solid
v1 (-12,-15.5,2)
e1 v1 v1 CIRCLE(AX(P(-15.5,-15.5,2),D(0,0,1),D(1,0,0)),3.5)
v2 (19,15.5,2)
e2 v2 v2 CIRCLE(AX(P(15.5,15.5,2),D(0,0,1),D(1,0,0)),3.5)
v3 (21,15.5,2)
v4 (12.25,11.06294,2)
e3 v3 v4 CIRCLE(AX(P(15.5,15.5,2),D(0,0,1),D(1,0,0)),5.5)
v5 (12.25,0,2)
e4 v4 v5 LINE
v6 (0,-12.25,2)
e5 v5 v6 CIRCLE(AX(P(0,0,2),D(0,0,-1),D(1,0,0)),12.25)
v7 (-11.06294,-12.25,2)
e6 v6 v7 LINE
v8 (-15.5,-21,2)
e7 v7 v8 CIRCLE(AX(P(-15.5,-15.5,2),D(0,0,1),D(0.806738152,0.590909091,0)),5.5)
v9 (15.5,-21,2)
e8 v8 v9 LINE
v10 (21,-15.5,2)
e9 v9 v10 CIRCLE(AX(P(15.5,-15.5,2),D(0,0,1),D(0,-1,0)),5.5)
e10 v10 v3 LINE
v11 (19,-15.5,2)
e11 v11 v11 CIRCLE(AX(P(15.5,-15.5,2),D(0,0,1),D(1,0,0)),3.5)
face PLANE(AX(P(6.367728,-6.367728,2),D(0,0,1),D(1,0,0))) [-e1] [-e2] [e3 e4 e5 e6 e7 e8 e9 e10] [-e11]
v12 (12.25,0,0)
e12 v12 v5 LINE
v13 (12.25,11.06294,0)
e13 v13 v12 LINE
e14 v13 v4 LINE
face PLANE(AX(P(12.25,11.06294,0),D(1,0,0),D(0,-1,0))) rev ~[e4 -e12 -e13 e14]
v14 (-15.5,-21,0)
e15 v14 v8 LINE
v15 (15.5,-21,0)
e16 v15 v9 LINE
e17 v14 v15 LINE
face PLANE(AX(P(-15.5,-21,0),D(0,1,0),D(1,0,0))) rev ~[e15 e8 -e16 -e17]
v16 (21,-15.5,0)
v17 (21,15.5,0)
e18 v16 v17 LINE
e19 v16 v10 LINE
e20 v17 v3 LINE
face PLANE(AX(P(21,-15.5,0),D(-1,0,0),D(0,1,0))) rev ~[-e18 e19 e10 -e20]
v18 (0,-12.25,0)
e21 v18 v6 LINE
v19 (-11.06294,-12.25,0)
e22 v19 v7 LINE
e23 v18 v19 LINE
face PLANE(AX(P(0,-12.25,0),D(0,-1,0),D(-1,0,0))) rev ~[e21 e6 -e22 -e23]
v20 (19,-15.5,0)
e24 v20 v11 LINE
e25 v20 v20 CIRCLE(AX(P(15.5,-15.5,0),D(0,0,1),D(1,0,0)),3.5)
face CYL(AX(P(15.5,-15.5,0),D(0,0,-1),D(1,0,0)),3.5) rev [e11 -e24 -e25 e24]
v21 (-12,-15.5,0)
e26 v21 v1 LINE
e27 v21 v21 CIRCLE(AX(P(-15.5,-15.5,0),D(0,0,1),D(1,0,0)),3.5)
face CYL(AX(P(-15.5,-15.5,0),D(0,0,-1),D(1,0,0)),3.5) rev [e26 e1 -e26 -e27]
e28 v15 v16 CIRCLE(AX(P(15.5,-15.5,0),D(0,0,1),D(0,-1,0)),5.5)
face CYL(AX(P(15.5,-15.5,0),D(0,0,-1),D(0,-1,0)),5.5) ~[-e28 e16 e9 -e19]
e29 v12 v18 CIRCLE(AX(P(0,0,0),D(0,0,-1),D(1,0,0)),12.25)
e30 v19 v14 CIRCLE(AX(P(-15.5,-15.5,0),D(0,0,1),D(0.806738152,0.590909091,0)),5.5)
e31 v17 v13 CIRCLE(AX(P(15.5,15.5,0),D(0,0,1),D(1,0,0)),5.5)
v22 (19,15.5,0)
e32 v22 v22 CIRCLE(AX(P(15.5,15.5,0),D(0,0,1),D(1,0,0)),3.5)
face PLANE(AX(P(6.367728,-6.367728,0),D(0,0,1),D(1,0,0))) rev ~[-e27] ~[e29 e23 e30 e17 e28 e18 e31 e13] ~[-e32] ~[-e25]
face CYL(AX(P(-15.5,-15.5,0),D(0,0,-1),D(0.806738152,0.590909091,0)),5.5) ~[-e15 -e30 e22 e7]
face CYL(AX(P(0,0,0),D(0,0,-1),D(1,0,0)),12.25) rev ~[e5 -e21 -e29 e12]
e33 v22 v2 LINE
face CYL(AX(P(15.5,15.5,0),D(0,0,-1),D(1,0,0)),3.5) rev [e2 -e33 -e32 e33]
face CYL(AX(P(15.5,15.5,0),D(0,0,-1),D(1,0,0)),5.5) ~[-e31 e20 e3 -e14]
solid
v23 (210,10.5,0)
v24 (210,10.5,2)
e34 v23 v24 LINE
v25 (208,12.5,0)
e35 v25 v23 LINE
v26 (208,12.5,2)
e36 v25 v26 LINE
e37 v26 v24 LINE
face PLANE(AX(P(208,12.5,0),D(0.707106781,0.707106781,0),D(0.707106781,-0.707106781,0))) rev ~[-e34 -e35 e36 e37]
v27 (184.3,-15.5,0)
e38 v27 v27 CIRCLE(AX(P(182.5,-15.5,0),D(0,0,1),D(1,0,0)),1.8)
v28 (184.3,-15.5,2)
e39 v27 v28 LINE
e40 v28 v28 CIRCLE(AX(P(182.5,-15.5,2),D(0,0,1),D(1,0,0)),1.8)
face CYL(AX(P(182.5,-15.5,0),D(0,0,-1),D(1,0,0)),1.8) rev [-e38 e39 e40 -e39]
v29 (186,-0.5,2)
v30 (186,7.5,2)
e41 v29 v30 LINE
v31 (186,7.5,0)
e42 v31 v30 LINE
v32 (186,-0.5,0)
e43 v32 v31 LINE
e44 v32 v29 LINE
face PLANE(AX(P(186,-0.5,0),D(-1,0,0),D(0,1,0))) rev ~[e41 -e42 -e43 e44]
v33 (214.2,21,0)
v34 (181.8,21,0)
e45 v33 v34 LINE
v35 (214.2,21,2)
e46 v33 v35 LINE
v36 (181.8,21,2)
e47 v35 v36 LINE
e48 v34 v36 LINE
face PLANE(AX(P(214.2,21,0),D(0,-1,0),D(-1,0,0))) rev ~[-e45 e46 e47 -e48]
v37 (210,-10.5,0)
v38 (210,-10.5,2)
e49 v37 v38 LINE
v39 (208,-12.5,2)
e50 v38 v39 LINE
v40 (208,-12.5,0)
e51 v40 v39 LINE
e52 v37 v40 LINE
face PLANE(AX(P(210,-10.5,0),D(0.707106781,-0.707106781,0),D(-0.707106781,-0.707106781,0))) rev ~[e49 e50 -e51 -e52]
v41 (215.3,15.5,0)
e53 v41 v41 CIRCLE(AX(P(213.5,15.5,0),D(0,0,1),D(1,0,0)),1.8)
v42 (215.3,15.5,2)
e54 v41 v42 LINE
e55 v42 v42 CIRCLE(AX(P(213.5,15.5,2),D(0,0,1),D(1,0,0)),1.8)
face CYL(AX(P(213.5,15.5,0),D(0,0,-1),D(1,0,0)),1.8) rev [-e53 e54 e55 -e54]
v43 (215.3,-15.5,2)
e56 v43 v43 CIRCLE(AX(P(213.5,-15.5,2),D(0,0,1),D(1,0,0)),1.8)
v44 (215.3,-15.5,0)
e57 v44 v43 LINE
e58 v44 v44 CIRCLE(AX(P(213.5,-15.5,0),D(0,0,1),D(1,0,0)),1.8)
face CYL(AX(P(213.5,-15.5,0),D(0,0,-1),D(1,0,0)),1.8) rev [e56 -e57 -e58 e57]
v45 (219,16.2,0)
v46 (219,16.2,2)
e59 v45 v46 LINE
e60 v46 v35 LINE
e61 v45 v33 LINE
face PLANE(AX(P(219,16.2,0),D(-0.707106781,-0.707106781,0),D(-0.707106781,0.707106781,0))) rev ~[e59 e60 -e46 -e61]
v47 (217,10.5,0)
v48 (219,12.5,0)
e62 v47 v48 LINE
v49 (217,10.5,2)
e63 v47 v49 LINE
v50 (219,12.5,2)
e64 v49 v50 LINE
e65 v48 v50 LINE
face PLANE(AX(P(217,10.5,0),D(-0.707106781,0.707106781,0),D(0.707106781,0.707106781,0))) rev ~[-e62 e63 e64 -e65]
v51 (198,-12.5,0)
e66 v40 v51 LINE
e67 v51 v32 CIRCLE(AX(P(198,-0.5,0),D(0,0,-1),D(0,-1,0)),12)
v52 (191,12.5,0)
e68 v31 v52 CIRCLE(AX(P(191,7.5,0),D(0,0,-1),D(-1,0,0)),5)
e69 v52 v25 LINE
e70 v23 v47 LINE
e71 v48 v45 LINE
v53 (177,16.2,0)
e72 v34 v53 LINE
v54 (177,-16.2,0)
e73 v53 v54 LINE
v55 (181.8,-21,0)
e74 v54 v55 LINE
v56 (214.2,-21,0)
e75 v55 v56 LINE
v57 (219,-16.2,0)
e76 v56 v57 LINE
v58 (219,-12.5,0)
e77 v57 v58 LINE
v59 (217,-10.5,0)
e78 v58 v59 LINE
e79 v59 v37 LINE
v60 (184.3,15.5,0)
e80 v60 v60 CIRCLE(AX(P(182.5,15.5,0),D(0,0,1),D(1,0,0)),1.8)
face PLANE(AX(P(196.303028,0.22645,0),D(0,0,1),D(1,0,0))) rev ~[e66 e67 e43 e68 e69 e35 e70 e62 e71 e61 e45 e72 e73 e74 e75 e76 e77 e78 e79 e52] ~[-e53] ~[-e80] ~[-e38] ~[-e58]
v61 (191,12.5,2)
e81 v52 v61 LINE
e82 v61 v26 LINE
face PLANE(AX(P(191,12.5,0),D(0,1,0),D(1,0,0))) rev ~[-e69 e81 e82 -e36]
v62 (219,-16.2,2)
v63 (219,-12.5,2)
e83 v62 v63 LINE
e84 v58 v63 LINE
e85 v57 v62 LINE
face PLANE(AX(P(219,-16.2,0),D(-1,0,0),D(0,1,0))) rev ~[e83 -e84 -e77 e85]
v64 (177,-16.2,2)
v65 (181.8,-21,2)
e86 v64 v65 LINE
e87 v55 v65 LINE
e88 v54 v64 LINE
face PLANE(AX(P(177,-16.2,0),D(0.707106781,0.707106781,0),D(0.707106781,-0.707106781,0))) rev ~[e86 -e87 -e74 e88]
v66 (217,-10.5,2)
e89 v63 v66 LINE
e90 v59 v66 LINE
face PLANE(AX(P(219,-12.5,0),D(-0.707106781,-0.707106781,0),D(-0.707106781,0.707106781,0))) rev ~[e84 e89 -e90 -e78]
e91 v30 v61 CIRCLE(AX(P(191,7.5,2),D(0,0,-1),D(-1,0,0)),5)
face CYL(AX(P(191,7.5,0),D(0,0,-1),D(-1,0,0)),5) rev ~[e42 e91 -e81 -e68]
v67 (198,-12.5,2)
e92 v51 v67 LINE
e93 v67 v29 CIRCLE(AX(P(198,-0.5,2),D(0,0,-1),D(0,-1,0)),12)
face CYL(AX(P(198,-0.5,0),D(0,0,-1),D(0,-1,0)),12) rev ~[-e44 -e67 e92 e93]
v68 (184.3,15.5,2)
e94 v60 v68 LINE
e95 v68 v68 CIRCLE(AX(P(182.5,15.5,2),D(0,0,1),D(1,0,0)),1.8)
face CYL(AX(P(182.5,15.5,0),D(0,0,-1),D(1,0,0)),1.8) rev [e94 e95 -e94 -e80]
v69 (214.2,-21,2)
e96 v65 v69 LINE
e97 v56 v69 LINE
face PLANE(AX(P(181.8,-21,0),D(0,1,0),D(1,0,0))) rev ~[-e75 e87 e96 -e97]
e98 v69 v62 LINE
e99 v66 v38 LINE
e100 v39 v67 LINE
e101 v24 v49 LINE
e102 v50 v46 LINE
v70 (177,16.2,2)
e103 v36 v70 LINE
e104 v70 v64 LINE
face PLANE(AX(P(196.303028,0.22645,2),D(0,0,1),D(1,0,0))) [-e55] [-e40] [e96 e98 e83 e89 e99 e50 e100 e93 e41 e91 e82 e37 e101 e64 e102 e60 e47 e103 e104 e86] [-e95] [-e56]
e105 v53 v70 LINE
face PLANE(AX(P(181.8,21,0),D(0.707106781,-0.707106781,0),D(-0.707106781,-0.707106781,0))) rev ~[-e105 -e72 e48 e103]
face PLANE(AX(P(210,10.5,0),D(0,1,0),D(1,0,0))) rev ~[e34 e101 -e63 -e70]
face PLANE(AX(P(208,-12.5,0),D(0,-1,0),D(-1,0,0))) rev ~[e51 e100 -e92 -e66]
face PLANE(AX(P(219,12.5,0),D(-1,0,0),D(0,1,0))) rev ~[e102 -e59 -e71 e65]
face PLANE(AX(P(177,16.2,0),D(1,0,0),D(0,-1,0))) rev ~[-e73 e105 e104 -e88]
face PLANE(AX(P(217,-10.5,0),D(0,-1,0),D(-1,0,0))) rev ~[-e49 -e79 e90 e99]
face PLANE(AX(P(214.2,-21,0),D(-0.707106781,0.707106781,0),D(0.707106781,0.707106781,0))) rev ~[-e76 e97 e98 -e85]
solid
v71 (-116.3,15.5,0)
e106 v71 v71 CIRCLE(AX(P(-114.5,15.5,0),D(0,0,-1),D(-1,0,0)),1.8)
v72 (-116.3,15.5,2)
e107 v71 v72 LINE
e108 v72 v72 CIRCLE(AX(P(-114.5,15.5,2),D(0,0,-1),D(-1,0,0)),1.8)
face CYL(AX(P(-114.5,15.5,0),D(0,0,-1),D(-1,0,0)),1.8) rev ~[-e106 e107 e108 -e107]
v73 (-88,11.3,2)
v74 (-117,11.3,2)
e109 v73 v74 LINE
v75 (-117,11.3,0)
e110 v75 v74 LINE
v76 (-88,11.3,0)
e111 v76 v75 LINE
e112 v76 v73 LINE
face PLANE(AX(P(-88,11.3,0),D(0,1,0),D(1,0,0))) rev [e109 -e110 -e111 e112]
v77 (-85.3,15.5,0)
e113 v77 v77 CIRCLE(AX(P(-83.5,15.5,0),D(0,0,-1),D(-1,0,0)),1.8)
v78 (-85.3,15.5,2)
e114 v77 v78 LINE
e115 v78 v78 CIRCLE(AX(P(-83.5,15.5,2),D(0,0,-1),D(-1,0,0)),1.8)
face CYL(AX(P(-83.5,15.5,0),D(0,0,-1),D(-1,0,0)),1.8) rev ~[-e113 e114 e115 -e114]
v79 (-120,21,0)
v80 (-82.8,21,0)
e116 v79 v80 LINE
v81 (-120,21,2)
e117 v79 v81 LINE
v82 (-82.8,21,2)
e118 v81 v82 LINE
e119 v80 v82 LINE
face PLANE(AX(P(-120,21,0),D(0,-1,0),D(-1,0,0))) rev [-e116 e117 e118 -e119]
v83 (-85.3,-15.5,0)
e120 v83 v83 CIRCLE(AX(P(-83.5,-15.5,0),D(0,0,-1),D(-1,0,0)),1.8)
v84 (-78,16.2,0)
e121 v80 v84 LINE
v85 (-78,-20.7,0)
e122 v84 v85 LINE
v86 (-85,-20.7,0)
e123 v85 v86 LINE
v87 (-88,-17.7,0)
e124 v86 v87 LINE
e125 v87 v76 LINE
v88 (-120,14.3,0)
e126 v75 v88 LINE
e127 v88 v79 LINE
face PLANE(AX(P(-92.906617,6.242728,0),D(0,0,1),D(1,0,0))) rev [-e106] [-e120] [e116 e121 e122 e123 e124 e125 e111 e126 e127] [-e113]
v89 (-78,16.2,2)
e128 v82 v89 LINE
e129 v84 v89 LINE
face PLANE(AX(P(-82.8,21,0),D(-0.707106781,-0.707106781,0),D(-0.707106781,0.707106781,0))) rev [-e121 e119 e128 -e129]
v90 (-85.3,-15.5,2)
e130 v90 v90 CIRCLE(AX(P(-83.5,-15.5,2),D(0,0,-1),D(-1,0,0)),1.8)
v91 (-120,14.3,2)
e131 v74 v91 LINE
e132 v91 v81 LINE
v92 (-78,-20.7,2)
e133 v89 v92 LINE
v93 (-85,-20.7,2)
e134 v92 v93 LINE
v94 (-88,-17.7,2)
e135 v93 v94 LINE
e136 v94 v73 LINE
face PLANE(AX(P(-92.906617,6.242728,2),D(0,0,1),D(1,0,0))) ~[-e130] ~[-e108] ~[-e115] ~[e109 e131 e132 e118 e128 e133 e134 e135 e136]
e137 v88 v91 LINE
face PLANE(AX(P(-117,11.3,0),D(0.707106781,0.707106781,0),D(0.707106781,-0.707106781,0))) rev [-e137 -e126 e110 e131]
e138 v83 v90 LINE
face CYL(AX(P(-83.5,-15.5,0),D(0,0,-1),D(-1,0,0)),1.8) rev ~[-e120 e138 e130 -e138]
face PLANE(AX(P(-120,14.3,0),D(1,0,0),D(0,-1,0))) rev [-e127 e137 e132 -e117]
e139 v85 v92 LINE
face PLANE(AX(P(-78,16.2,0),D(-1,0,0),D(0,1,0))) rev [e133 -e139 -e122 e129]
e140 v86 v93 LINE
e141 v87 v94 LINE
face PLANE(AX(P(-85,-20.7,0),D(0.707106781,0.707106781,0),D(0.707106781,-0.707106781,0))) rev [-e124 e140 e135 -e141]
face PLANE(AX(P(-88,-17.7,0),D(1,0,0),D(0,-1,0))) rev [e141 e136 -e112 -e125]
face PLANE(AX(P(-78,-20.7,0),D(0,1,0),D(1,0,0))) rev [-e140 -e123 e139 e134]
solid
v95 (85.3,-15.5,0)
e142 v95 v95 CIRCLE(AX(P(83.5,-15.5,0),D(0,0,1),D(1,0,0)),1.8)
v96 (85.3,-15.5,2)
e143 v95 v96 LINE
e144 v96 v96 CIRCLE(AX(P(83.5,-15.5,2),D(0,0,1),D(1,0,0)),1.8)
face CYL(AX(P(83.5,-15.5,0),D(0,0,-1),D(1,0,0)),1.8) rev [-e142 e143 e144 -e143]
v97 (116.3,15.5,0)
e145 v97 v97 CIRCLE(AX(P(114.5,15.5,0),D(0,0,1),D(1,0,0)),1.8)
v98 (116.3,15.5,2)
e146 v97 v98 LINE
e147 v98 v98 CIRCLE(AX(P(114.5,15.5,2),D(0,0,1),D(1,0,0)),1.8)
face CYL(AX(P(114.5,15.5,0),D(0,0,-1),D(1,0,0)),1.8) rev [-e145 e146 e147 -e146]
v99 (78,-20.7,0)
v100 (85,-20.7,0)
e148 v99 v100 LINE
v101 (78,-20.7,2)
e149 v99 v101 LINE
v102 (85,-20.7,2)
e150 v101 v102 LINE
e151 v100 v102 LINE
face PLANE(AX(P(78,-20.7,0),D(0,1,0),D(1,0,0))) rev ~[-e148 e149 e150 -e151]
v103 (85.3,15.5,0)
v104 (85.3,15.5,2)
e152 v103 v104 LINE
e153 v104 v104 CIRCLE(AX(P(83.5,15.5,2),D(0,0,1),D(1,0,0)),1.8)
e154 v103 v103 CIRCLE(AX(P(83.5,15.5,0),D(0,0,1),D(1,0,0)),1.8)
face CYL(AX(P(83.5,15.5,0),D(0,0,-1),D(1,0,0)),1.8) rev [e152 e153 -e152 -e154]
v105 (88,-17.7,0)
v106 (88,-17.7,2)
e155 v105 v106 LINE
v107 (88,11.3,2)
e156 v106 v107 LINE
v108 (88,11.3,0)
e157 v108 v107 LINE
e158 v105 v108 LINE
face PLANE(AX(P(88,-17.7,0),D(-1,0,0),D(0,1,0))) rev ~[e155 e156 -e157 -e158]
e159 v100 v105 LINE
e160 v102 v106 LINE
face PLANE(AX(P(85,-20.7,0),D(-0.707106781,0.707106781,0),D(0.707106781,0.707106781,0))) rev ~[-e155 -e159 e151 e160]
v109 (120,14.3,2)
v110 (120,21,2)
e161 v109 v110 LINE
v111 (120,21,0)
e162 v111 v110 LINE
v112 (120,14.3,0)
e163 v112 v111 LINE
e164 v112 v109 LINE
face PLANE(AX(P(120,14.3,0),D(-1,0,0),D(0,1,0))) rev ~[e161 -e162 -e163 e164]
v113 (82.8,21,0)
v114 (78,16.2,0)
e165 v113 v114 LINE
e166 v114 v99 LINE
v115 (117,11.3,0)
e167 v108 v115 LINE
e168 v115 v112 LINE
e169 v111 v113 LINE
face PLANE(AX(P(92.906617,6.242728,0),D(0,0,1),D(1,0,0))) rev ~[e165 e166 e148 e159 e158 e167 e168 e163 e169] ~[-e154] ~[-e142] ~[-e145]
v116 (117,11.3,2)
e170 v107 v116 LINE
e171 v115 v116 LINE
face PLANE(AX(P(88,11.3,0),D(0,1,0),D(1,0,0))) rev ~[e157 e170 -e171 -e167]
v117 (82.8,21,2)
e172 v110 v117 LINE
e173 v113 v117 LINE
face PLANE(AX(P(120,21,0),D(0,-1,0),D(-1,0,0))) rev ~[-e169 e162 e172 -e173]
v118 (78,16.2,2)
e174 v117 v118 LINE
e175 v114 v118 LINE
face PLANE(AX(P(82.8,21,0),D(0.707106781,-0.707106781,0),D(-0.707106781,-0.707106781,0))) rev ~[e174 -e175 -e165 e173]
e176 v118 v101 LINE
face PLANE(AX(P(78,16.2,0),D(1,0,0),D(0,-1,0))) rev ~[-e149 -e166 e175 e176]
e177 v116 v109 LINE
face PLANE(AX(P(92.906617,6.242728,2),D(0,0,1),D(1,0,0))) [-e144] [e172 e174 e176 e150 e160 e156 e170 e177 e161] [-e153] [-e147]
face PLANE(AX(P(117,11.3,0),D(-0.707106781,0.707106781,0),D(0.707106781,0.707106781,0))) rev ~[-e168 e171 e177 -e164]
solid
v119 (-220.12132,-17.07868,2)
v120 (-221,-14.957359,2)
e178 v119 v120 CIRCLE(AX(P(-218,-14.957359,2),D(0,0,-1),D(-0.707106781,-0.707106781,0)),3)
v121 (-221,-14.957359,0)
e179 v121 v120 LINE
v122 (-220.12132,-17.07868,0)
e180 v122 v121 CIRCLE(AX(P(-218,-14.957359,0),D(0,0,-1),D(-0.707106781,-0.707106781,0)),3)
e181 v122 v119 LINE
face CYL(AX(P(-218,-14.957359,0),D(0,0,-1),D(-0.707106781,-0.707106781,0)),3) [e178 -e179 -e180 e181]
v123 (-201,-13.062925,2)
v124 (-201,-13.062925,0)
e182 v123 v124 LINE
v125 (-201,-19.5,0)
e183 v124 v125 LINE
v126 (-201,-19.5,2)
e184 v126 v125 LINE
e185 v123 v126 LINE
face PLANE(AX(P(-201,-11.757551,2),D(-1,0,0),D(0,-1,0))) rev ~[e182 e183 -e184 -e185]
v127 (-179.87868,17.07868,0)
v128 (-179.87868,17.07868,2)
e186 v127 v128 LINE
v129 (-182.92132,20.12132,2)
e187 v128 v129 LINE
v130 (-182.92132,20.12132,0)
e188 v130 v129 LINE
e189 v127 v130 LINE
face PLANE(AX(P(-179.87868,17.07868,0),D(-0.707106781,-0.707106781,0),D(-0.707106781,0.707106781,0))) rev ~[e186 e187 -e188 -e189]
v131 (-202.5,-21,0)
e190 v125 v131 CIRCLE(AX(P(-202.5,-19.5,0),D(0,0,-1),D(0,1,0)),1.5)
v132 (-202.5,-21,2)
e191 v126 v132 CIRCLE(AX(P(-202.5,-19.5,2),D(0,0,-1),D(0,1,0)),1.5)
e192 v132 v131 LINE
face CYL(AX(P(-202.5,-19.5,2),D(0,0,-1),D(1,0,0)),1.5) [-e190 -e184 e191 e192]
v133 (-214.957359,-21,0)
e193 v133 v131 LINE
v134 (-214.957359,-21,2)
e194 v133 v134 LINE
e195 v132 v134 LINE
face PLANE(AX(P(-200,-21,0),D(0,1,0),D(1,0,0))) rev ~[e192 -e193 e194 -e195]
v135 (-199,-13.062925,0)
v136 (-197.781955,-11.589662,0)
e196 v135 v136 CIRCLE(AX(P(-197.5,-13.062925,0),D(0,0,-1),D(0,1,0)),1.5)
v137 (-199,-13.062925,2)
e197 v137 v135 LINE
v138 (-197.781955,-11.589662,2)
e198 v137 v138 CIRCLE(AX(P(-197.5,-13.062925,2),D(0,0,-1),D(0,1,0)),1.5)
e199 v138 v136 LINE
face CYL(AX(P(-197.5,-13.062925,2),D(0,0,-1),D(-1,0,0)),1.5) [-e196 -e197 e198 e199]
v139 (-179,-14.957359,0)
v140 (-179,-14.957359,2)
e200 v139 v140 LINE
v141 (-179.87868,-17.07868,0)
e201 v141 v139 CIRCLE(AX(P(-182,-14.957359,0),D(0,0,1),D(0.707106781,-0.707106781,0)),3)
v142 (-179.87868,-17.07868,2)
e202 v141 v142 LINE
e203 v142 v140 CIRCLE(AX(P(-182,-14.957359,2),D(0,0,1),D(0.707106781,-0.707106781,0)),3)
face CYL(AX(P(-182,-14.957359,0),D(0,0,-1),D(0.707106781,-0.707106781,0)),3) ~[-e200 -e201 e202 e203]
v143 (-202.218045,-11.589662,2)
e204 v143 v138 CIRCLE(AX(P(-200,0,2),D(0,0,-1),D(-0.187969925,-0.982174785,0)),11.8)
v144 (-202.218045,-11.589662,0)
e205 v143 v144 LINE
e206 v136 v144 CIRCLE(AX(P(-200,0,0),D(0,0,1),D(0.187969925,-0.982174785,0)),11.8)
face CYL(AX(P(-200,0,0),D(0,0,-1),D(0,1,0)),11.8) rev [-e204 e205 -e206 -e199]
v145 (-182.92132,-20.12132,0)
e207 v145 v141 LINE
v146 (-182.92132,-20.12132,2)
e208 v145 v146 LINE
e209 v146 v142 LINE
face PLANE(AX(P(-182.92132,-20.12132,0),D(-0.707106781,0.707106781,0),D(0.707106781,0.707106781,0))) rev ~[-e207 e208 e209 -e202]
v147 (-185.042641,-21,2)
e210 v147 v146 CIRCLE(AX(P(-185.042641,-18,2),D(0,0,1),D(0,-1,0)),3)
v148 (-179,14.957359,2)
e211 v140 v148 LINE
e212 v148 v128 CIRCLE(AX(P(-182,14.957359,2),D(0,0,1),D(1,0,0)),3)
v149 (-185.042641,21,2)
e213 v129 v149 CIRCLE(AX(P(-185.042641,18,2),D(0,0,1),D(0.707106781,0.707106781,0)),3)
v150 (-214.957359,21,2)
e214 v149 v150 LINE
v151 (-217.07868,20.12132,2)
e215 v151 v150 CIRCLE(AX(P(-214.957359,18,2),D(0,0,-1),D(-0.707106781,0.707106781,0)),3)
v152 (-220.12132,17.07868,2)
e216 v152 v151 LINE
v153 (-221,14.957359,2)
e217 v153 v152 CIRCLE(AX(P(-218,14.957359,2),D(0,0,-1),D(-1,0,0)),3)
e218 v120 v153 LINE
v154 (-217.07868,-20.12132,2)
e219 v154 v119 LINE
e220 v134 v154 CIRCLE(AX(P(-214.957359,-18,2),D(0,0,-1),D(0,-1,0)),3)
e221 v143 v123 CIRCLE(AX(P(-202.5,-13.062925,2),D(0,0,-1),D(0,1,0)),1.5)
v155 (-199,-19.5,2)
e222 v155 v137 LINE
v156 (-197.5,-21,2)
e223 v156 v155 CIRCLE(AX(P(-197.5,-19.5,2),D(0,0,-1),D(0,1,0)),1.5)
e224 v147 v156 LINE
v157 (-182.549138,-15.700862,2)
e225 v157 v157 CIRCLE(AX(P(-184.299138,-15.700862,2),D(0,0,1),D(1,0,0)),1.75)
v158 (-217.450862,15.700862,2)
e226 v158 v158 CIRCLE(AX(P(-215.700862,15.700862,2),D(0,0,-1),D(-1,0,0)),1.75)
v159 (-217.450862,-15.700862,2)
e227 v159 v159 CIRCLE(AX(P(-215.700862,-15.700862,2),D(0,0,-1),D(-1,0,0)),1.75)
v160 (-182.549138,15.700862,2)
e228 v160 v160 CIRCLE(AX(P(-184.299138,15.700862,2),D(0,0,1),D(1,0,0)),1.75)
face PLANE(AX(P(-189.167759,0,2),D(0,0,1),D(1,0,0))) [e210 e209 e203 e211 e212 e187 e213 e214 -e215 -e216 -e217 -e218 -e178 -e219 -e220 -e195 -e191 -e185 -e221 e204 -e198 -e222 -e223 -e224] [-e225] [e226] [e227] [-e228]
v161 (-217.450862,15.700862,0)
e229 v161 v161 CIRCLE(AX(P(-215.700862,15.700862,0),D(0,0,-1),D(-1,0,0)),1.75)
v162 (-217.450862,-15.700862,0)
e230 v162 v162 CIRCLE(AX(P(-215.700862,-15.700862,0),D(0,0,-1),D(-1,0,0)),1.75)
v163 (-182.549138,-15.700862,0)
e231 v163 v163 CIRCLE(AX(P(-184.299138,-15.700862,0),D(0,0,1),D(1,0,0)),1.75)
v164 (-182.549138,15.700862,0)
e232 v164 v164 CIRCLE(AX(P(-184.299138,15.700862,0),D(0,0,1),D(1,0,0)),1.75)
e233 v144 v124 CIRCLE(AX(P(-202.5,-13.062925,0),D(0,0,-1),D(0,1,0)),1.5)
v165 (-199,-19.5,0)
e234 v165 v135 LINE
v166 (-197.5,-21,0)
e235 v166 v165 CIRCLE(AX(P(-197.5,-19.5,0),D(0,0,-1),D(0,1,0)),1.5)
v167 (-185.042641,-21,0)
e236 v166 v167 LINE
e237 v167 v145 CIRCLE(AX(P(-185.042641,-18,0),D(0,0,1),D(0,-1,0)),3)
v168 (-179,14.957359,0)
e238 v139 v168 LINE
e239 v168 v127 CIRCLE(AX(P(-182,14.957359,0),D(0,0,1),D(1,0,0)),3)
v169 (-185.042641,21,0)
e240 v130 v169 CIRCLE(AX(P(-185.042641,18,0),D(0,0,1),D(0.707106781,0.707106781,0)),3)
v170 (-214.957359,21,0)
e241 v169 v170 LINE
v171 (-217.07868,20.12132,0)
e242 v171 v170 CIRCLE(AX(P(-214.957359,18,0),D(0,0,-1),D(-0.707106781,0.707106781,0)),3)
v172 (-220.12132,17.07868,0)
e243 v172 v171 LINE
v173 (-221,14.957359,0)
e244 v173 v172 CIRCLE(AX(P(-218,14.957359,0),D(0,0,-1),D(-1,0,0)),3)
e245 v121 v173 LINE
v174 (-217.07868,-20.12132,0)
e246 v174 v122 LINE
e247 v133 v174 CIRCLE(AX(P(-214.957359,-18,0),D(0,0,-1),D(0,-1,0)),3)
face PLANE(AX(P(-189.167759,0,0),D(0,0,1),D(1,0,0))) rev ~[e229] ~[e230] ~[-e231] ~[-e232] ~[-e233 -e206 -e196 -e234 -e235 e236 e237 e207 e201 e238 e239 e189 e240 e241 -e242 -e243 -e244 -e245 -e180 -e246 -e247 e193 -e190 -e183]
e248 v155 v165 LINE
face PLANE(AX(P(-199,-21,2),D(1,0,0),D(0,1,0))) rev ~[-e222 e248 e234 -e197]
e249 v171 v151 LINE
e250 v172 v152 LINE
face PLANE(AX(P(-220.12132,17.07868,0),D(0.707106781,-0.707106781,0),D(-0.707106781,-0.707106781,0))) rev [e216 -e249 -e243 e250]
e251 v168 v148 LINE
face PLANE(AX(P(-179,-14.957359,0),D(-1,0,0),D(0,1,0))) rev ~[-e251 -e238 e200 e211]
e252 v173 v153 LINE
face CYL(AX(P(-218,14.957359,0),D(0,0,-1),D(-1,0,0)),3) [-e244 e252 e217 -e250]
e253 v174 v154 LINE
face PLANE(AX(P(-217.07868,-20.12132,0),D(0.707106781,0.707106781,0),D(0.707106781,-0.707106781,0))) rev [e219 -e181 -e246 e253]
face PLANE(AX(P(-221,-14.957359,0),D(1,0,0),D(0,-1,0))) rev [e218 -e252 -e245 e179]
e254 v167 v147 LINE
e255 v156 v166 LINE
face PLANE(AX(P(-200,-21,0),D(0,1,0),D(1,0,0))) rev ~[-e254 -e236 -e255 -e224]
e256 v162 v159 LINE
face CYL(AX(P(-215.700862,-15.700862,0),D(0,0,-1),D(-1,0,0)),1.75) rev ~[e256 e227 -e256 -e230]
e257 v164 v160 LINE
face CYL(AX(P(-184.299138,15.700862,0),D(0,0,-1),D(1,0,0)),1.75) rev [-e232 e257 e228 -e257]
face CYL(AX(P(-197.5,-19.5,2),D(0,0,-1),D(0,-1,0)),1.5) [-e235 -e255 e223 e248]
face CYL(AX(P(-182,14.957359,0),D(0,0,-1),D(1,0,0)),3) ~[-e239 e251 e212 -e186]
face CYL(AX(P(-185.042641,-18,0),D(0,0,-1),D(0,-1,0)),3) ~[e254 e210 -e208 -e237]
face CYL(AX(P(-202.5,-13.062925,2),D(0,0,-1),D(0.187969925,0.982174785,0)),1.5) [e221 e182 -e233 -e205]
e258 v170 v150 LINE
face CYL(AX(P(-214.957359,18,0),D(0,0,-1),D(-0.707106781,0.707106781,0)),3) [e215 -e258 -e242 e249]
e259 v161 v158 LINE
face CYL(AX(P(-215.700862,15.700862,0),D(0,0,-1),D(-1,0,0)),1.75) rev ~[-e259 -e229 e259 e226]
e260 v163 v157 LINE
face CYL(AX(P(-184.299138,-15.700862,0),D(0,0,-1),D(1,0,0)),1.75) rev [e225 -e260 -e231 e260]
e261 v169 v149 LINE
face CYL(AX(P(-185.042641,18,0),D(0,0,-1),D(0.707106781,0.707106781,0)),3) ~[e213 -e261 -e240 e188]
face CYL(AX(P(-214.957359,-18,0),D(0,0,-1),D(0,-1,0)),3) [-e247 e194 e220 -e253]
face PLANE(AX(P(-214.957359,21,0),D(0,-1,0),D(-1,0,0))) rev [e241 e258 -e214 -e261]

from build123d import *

# Parameters (mm, degrees)
F0_R     = 3.5
F1_DEPTH = 2
F0_R_2   = 1.8
F3_R     = 1.75
F4_DEPTH = 2
F9_DEPTH = 25
F10_R    = 1.5


with BuildPart() as f1:
    # F0 (on Top) → F1 (new body)
    with BuildSketch(Plane.XY):
        with BuildLine():
            Line((0, -12.25), (-11.0629401627, -12.25))
            ThreePointArc((-11.0629401627, -12.25), (-20.4053542176, -13.0125314072), (-15.5, -21))
            Line((-15.5, -21), (15.5, -21))
            ThreePointArc((15.5, -21), (19.3890872965, -19.3890872965), (21, -15.5))
            Line((21, -15.5), (21, 15.5))
            ThreePointArc((21, 15.5), (13.0125314072, 20.4053542176), (12.25, 11.0629401627))
            Line((12.25, 11.0629401627), (12.25, 0))
            ThreePointArc((12.25, 0), (8.6620580695, -8.6620580695), (0, -12.25))
        make_face()
        with Locations((-15.5, -15.5)):
            Circle(F0_R, mode=Mode.SUBTRACT)
        with Locations((15.5, -15.5)):
            Circle(F0_R, mode=Mode.SUBTRACT)
        with Locations((15.5, 15.5)):
            Circle(F0_R, mode=Mode.SUBTRACT)
    extrude(amount=F1_DEPTH)


with BuildPart() as f1b:
    # F0 (on Top) → F1, piece 2 (new body)
    with BuildSketch(Plane.XY):
        Polygon((88, 11.3), (117, 11.3), (120, 14.3), (120, 21), (82.8, 21), (78, 16.2), (78, -20.7), (85, -20.7), (88, -17.7), align=None)
        with Locations((83.5, -15.5)):
            Circle(F0_R_2, mode=Mode.SUBTRACT)
        with Locations((83.5, 15.5)):
            Circle(F0_R_2, mode=Mode.SUBTRACT)
        with Locations((114.5, 15.5)):
            Circle(F0_R_2, mode=Mode.SUBTRACT)
    extrude(amount=F1_DEPTH)


with BuildPart() as f1c:
    # F0 (on Top) → F1, piece 3 (new body)
    with BuildSketch(Plane.XY):
        with BuildLine():
            Line((186, -0.5), (186, 7.5))
            ThreePointArc((186, 7.5), (187.4644660941, 11.0355339059), (191, 12.5))
            Line((191, 12.5), (208, 12.5))
            Line((208, 12.5), (210, 10.5))
            Line((210, 10.5), (217, 10.5))
            Line((217, 10.5), (219, 12.5))
            Line((219, 12.5), (219, 16.2))
            Line((219, 16.2), (214.2, 21))
            Line((214.2, 21), (181.8, 21))
            Line((181.8, 21), (177, 16.2))
            Line((177, 16.2), (177, -16.2))
            Line((177, -16.2), (181.8, -21))
            Line((181.8, -21), (214.2, -21))
            Line((214.2, -21), (219, -16.2))
            Line((219, -16.2), (219, -12.5))
            Line((219, -12.5), (217, -10.5))
            Line((217, -10.5), (210, -10.5))
            Line((210, -10.5), (208, -12.5))
            Line((208, -12.5), (198, -12.5))
            ThreePointArc((198, -12.5), (189.5147186258, -8.9852813742), (186, -0.5))
        make_face()
        with Locations((182.5, -15.5)):
            Circle(F0_R_2, mode=Mode.SUBTRACT)
        with Locations((213.5, -15.5)):
            Circle(F0_R_2, mode=Mode.SUBTRACT)
        with Locations((182.5, 15.5)):
            Circle(F0_R_2, mode=Mode.SUBTRACT)
        with Locations((213.5, 15.5)):
            Circle(F0_R_2, mode=Mode.SUBTRACT)
    extrude(amount=F1_DEPTH)


with BuildPart() as f2_1:
    # F2: instance of F1b
    add(f1b.part.mirror(Plane.YZ))


with BuildPart() as f4:
    # F3 (on Top) → F4 (new body)
    with BuildSketch(Plane.XY):
        with BuildLine():
            Line((0, -21), (14.9573593129, -21))
            ThreePointArc((14.9573593129, -21), (16.10540961, -20.7716385975), (17.0786796564, -20.1213203436))
            Line((17.0786796564, -20.1213203436), (20.1213203436, -17.0786796564))
            ThreePointArc((20.1213203436, -17.0786796564), (20.7716385975, -16.10540961), (21, -14.9573593129))
            Line((21, -14.9573593129), (21, 14.9573593129))
            ThreePointArc((21, 14.9573593129), (20.7716385975, 16.10540961), (20.1213203436, 17.0786796564))
            Line((20.1213203436, 17.0786796564), (17.0786796564, 20.1213203436))
            ThreePointArc((17.0786796564, 20.1213203436), (16.10540961, 20.7716385975), (14.9573593129, 21))
            Line((14.9573593129, 21), (0, 21))
            Line((0, 21), (0, 11.8))
            ThreePointArc((0, 11.8), (11.8, 0), (0, -11.8))
            Line((0, -11.8), (0, -21))
        make_face()
        with Locations((15.7008621971, -15.7008621971)):
            Circle(F3_R, mode=Mode.SUBTRACT)
        with Locations((15.7008621971, 15.7008621971)):
            Circle(F3_R, mode=Mode.SUBTRACT)
    extrude(amount=F4_DEPTH)


with BuildPart() as f5_1:
    # F5: instance of F4
    add(f4.part.mirror(Plane(origin=(0, 16.4, 1), x_dir=(0, -1, 0), z_dir=(-1, 0, 0))))

    # F6: union F4
    add(f4.part)


with BuildPart() as f5_1_1:
    # F7: moved
    add(f5_1.part.moved(Location((-200, 0, 0))))

    # F8 (on face) → F9 (cut)
    with BuildSketch(Plane.XY.offset(2)):
        with BuildLine():
            ThreePointArc((-199, -11.7575507654), (-200, -11.8), (-201, -11.7575507654))
            Line((-201, -11.7575507654), (-201, -21))
            Line((-201, -21), (-199, -21))
            Line((-199, -21), (-199, -11.7575507654))
        make_face()
    extrude(amount=-F9_DEPTH, mode=Mode.SUBTRACT)

    # F10
    f10_edges = [f5_1_1.edges().sort_by_distance(p)[0] for p in [
        (-199, -21, 1),
        (-201, -21, 1),
        (-201, -11.757551, 1),
        (-199, -11.757551, 1),
    ]]
    fillet(f10_edges, radius=F10_R)


solid = Compound([f1.part, f1b.part, f1c.part, f2_1.part, f5_1_1.part])
